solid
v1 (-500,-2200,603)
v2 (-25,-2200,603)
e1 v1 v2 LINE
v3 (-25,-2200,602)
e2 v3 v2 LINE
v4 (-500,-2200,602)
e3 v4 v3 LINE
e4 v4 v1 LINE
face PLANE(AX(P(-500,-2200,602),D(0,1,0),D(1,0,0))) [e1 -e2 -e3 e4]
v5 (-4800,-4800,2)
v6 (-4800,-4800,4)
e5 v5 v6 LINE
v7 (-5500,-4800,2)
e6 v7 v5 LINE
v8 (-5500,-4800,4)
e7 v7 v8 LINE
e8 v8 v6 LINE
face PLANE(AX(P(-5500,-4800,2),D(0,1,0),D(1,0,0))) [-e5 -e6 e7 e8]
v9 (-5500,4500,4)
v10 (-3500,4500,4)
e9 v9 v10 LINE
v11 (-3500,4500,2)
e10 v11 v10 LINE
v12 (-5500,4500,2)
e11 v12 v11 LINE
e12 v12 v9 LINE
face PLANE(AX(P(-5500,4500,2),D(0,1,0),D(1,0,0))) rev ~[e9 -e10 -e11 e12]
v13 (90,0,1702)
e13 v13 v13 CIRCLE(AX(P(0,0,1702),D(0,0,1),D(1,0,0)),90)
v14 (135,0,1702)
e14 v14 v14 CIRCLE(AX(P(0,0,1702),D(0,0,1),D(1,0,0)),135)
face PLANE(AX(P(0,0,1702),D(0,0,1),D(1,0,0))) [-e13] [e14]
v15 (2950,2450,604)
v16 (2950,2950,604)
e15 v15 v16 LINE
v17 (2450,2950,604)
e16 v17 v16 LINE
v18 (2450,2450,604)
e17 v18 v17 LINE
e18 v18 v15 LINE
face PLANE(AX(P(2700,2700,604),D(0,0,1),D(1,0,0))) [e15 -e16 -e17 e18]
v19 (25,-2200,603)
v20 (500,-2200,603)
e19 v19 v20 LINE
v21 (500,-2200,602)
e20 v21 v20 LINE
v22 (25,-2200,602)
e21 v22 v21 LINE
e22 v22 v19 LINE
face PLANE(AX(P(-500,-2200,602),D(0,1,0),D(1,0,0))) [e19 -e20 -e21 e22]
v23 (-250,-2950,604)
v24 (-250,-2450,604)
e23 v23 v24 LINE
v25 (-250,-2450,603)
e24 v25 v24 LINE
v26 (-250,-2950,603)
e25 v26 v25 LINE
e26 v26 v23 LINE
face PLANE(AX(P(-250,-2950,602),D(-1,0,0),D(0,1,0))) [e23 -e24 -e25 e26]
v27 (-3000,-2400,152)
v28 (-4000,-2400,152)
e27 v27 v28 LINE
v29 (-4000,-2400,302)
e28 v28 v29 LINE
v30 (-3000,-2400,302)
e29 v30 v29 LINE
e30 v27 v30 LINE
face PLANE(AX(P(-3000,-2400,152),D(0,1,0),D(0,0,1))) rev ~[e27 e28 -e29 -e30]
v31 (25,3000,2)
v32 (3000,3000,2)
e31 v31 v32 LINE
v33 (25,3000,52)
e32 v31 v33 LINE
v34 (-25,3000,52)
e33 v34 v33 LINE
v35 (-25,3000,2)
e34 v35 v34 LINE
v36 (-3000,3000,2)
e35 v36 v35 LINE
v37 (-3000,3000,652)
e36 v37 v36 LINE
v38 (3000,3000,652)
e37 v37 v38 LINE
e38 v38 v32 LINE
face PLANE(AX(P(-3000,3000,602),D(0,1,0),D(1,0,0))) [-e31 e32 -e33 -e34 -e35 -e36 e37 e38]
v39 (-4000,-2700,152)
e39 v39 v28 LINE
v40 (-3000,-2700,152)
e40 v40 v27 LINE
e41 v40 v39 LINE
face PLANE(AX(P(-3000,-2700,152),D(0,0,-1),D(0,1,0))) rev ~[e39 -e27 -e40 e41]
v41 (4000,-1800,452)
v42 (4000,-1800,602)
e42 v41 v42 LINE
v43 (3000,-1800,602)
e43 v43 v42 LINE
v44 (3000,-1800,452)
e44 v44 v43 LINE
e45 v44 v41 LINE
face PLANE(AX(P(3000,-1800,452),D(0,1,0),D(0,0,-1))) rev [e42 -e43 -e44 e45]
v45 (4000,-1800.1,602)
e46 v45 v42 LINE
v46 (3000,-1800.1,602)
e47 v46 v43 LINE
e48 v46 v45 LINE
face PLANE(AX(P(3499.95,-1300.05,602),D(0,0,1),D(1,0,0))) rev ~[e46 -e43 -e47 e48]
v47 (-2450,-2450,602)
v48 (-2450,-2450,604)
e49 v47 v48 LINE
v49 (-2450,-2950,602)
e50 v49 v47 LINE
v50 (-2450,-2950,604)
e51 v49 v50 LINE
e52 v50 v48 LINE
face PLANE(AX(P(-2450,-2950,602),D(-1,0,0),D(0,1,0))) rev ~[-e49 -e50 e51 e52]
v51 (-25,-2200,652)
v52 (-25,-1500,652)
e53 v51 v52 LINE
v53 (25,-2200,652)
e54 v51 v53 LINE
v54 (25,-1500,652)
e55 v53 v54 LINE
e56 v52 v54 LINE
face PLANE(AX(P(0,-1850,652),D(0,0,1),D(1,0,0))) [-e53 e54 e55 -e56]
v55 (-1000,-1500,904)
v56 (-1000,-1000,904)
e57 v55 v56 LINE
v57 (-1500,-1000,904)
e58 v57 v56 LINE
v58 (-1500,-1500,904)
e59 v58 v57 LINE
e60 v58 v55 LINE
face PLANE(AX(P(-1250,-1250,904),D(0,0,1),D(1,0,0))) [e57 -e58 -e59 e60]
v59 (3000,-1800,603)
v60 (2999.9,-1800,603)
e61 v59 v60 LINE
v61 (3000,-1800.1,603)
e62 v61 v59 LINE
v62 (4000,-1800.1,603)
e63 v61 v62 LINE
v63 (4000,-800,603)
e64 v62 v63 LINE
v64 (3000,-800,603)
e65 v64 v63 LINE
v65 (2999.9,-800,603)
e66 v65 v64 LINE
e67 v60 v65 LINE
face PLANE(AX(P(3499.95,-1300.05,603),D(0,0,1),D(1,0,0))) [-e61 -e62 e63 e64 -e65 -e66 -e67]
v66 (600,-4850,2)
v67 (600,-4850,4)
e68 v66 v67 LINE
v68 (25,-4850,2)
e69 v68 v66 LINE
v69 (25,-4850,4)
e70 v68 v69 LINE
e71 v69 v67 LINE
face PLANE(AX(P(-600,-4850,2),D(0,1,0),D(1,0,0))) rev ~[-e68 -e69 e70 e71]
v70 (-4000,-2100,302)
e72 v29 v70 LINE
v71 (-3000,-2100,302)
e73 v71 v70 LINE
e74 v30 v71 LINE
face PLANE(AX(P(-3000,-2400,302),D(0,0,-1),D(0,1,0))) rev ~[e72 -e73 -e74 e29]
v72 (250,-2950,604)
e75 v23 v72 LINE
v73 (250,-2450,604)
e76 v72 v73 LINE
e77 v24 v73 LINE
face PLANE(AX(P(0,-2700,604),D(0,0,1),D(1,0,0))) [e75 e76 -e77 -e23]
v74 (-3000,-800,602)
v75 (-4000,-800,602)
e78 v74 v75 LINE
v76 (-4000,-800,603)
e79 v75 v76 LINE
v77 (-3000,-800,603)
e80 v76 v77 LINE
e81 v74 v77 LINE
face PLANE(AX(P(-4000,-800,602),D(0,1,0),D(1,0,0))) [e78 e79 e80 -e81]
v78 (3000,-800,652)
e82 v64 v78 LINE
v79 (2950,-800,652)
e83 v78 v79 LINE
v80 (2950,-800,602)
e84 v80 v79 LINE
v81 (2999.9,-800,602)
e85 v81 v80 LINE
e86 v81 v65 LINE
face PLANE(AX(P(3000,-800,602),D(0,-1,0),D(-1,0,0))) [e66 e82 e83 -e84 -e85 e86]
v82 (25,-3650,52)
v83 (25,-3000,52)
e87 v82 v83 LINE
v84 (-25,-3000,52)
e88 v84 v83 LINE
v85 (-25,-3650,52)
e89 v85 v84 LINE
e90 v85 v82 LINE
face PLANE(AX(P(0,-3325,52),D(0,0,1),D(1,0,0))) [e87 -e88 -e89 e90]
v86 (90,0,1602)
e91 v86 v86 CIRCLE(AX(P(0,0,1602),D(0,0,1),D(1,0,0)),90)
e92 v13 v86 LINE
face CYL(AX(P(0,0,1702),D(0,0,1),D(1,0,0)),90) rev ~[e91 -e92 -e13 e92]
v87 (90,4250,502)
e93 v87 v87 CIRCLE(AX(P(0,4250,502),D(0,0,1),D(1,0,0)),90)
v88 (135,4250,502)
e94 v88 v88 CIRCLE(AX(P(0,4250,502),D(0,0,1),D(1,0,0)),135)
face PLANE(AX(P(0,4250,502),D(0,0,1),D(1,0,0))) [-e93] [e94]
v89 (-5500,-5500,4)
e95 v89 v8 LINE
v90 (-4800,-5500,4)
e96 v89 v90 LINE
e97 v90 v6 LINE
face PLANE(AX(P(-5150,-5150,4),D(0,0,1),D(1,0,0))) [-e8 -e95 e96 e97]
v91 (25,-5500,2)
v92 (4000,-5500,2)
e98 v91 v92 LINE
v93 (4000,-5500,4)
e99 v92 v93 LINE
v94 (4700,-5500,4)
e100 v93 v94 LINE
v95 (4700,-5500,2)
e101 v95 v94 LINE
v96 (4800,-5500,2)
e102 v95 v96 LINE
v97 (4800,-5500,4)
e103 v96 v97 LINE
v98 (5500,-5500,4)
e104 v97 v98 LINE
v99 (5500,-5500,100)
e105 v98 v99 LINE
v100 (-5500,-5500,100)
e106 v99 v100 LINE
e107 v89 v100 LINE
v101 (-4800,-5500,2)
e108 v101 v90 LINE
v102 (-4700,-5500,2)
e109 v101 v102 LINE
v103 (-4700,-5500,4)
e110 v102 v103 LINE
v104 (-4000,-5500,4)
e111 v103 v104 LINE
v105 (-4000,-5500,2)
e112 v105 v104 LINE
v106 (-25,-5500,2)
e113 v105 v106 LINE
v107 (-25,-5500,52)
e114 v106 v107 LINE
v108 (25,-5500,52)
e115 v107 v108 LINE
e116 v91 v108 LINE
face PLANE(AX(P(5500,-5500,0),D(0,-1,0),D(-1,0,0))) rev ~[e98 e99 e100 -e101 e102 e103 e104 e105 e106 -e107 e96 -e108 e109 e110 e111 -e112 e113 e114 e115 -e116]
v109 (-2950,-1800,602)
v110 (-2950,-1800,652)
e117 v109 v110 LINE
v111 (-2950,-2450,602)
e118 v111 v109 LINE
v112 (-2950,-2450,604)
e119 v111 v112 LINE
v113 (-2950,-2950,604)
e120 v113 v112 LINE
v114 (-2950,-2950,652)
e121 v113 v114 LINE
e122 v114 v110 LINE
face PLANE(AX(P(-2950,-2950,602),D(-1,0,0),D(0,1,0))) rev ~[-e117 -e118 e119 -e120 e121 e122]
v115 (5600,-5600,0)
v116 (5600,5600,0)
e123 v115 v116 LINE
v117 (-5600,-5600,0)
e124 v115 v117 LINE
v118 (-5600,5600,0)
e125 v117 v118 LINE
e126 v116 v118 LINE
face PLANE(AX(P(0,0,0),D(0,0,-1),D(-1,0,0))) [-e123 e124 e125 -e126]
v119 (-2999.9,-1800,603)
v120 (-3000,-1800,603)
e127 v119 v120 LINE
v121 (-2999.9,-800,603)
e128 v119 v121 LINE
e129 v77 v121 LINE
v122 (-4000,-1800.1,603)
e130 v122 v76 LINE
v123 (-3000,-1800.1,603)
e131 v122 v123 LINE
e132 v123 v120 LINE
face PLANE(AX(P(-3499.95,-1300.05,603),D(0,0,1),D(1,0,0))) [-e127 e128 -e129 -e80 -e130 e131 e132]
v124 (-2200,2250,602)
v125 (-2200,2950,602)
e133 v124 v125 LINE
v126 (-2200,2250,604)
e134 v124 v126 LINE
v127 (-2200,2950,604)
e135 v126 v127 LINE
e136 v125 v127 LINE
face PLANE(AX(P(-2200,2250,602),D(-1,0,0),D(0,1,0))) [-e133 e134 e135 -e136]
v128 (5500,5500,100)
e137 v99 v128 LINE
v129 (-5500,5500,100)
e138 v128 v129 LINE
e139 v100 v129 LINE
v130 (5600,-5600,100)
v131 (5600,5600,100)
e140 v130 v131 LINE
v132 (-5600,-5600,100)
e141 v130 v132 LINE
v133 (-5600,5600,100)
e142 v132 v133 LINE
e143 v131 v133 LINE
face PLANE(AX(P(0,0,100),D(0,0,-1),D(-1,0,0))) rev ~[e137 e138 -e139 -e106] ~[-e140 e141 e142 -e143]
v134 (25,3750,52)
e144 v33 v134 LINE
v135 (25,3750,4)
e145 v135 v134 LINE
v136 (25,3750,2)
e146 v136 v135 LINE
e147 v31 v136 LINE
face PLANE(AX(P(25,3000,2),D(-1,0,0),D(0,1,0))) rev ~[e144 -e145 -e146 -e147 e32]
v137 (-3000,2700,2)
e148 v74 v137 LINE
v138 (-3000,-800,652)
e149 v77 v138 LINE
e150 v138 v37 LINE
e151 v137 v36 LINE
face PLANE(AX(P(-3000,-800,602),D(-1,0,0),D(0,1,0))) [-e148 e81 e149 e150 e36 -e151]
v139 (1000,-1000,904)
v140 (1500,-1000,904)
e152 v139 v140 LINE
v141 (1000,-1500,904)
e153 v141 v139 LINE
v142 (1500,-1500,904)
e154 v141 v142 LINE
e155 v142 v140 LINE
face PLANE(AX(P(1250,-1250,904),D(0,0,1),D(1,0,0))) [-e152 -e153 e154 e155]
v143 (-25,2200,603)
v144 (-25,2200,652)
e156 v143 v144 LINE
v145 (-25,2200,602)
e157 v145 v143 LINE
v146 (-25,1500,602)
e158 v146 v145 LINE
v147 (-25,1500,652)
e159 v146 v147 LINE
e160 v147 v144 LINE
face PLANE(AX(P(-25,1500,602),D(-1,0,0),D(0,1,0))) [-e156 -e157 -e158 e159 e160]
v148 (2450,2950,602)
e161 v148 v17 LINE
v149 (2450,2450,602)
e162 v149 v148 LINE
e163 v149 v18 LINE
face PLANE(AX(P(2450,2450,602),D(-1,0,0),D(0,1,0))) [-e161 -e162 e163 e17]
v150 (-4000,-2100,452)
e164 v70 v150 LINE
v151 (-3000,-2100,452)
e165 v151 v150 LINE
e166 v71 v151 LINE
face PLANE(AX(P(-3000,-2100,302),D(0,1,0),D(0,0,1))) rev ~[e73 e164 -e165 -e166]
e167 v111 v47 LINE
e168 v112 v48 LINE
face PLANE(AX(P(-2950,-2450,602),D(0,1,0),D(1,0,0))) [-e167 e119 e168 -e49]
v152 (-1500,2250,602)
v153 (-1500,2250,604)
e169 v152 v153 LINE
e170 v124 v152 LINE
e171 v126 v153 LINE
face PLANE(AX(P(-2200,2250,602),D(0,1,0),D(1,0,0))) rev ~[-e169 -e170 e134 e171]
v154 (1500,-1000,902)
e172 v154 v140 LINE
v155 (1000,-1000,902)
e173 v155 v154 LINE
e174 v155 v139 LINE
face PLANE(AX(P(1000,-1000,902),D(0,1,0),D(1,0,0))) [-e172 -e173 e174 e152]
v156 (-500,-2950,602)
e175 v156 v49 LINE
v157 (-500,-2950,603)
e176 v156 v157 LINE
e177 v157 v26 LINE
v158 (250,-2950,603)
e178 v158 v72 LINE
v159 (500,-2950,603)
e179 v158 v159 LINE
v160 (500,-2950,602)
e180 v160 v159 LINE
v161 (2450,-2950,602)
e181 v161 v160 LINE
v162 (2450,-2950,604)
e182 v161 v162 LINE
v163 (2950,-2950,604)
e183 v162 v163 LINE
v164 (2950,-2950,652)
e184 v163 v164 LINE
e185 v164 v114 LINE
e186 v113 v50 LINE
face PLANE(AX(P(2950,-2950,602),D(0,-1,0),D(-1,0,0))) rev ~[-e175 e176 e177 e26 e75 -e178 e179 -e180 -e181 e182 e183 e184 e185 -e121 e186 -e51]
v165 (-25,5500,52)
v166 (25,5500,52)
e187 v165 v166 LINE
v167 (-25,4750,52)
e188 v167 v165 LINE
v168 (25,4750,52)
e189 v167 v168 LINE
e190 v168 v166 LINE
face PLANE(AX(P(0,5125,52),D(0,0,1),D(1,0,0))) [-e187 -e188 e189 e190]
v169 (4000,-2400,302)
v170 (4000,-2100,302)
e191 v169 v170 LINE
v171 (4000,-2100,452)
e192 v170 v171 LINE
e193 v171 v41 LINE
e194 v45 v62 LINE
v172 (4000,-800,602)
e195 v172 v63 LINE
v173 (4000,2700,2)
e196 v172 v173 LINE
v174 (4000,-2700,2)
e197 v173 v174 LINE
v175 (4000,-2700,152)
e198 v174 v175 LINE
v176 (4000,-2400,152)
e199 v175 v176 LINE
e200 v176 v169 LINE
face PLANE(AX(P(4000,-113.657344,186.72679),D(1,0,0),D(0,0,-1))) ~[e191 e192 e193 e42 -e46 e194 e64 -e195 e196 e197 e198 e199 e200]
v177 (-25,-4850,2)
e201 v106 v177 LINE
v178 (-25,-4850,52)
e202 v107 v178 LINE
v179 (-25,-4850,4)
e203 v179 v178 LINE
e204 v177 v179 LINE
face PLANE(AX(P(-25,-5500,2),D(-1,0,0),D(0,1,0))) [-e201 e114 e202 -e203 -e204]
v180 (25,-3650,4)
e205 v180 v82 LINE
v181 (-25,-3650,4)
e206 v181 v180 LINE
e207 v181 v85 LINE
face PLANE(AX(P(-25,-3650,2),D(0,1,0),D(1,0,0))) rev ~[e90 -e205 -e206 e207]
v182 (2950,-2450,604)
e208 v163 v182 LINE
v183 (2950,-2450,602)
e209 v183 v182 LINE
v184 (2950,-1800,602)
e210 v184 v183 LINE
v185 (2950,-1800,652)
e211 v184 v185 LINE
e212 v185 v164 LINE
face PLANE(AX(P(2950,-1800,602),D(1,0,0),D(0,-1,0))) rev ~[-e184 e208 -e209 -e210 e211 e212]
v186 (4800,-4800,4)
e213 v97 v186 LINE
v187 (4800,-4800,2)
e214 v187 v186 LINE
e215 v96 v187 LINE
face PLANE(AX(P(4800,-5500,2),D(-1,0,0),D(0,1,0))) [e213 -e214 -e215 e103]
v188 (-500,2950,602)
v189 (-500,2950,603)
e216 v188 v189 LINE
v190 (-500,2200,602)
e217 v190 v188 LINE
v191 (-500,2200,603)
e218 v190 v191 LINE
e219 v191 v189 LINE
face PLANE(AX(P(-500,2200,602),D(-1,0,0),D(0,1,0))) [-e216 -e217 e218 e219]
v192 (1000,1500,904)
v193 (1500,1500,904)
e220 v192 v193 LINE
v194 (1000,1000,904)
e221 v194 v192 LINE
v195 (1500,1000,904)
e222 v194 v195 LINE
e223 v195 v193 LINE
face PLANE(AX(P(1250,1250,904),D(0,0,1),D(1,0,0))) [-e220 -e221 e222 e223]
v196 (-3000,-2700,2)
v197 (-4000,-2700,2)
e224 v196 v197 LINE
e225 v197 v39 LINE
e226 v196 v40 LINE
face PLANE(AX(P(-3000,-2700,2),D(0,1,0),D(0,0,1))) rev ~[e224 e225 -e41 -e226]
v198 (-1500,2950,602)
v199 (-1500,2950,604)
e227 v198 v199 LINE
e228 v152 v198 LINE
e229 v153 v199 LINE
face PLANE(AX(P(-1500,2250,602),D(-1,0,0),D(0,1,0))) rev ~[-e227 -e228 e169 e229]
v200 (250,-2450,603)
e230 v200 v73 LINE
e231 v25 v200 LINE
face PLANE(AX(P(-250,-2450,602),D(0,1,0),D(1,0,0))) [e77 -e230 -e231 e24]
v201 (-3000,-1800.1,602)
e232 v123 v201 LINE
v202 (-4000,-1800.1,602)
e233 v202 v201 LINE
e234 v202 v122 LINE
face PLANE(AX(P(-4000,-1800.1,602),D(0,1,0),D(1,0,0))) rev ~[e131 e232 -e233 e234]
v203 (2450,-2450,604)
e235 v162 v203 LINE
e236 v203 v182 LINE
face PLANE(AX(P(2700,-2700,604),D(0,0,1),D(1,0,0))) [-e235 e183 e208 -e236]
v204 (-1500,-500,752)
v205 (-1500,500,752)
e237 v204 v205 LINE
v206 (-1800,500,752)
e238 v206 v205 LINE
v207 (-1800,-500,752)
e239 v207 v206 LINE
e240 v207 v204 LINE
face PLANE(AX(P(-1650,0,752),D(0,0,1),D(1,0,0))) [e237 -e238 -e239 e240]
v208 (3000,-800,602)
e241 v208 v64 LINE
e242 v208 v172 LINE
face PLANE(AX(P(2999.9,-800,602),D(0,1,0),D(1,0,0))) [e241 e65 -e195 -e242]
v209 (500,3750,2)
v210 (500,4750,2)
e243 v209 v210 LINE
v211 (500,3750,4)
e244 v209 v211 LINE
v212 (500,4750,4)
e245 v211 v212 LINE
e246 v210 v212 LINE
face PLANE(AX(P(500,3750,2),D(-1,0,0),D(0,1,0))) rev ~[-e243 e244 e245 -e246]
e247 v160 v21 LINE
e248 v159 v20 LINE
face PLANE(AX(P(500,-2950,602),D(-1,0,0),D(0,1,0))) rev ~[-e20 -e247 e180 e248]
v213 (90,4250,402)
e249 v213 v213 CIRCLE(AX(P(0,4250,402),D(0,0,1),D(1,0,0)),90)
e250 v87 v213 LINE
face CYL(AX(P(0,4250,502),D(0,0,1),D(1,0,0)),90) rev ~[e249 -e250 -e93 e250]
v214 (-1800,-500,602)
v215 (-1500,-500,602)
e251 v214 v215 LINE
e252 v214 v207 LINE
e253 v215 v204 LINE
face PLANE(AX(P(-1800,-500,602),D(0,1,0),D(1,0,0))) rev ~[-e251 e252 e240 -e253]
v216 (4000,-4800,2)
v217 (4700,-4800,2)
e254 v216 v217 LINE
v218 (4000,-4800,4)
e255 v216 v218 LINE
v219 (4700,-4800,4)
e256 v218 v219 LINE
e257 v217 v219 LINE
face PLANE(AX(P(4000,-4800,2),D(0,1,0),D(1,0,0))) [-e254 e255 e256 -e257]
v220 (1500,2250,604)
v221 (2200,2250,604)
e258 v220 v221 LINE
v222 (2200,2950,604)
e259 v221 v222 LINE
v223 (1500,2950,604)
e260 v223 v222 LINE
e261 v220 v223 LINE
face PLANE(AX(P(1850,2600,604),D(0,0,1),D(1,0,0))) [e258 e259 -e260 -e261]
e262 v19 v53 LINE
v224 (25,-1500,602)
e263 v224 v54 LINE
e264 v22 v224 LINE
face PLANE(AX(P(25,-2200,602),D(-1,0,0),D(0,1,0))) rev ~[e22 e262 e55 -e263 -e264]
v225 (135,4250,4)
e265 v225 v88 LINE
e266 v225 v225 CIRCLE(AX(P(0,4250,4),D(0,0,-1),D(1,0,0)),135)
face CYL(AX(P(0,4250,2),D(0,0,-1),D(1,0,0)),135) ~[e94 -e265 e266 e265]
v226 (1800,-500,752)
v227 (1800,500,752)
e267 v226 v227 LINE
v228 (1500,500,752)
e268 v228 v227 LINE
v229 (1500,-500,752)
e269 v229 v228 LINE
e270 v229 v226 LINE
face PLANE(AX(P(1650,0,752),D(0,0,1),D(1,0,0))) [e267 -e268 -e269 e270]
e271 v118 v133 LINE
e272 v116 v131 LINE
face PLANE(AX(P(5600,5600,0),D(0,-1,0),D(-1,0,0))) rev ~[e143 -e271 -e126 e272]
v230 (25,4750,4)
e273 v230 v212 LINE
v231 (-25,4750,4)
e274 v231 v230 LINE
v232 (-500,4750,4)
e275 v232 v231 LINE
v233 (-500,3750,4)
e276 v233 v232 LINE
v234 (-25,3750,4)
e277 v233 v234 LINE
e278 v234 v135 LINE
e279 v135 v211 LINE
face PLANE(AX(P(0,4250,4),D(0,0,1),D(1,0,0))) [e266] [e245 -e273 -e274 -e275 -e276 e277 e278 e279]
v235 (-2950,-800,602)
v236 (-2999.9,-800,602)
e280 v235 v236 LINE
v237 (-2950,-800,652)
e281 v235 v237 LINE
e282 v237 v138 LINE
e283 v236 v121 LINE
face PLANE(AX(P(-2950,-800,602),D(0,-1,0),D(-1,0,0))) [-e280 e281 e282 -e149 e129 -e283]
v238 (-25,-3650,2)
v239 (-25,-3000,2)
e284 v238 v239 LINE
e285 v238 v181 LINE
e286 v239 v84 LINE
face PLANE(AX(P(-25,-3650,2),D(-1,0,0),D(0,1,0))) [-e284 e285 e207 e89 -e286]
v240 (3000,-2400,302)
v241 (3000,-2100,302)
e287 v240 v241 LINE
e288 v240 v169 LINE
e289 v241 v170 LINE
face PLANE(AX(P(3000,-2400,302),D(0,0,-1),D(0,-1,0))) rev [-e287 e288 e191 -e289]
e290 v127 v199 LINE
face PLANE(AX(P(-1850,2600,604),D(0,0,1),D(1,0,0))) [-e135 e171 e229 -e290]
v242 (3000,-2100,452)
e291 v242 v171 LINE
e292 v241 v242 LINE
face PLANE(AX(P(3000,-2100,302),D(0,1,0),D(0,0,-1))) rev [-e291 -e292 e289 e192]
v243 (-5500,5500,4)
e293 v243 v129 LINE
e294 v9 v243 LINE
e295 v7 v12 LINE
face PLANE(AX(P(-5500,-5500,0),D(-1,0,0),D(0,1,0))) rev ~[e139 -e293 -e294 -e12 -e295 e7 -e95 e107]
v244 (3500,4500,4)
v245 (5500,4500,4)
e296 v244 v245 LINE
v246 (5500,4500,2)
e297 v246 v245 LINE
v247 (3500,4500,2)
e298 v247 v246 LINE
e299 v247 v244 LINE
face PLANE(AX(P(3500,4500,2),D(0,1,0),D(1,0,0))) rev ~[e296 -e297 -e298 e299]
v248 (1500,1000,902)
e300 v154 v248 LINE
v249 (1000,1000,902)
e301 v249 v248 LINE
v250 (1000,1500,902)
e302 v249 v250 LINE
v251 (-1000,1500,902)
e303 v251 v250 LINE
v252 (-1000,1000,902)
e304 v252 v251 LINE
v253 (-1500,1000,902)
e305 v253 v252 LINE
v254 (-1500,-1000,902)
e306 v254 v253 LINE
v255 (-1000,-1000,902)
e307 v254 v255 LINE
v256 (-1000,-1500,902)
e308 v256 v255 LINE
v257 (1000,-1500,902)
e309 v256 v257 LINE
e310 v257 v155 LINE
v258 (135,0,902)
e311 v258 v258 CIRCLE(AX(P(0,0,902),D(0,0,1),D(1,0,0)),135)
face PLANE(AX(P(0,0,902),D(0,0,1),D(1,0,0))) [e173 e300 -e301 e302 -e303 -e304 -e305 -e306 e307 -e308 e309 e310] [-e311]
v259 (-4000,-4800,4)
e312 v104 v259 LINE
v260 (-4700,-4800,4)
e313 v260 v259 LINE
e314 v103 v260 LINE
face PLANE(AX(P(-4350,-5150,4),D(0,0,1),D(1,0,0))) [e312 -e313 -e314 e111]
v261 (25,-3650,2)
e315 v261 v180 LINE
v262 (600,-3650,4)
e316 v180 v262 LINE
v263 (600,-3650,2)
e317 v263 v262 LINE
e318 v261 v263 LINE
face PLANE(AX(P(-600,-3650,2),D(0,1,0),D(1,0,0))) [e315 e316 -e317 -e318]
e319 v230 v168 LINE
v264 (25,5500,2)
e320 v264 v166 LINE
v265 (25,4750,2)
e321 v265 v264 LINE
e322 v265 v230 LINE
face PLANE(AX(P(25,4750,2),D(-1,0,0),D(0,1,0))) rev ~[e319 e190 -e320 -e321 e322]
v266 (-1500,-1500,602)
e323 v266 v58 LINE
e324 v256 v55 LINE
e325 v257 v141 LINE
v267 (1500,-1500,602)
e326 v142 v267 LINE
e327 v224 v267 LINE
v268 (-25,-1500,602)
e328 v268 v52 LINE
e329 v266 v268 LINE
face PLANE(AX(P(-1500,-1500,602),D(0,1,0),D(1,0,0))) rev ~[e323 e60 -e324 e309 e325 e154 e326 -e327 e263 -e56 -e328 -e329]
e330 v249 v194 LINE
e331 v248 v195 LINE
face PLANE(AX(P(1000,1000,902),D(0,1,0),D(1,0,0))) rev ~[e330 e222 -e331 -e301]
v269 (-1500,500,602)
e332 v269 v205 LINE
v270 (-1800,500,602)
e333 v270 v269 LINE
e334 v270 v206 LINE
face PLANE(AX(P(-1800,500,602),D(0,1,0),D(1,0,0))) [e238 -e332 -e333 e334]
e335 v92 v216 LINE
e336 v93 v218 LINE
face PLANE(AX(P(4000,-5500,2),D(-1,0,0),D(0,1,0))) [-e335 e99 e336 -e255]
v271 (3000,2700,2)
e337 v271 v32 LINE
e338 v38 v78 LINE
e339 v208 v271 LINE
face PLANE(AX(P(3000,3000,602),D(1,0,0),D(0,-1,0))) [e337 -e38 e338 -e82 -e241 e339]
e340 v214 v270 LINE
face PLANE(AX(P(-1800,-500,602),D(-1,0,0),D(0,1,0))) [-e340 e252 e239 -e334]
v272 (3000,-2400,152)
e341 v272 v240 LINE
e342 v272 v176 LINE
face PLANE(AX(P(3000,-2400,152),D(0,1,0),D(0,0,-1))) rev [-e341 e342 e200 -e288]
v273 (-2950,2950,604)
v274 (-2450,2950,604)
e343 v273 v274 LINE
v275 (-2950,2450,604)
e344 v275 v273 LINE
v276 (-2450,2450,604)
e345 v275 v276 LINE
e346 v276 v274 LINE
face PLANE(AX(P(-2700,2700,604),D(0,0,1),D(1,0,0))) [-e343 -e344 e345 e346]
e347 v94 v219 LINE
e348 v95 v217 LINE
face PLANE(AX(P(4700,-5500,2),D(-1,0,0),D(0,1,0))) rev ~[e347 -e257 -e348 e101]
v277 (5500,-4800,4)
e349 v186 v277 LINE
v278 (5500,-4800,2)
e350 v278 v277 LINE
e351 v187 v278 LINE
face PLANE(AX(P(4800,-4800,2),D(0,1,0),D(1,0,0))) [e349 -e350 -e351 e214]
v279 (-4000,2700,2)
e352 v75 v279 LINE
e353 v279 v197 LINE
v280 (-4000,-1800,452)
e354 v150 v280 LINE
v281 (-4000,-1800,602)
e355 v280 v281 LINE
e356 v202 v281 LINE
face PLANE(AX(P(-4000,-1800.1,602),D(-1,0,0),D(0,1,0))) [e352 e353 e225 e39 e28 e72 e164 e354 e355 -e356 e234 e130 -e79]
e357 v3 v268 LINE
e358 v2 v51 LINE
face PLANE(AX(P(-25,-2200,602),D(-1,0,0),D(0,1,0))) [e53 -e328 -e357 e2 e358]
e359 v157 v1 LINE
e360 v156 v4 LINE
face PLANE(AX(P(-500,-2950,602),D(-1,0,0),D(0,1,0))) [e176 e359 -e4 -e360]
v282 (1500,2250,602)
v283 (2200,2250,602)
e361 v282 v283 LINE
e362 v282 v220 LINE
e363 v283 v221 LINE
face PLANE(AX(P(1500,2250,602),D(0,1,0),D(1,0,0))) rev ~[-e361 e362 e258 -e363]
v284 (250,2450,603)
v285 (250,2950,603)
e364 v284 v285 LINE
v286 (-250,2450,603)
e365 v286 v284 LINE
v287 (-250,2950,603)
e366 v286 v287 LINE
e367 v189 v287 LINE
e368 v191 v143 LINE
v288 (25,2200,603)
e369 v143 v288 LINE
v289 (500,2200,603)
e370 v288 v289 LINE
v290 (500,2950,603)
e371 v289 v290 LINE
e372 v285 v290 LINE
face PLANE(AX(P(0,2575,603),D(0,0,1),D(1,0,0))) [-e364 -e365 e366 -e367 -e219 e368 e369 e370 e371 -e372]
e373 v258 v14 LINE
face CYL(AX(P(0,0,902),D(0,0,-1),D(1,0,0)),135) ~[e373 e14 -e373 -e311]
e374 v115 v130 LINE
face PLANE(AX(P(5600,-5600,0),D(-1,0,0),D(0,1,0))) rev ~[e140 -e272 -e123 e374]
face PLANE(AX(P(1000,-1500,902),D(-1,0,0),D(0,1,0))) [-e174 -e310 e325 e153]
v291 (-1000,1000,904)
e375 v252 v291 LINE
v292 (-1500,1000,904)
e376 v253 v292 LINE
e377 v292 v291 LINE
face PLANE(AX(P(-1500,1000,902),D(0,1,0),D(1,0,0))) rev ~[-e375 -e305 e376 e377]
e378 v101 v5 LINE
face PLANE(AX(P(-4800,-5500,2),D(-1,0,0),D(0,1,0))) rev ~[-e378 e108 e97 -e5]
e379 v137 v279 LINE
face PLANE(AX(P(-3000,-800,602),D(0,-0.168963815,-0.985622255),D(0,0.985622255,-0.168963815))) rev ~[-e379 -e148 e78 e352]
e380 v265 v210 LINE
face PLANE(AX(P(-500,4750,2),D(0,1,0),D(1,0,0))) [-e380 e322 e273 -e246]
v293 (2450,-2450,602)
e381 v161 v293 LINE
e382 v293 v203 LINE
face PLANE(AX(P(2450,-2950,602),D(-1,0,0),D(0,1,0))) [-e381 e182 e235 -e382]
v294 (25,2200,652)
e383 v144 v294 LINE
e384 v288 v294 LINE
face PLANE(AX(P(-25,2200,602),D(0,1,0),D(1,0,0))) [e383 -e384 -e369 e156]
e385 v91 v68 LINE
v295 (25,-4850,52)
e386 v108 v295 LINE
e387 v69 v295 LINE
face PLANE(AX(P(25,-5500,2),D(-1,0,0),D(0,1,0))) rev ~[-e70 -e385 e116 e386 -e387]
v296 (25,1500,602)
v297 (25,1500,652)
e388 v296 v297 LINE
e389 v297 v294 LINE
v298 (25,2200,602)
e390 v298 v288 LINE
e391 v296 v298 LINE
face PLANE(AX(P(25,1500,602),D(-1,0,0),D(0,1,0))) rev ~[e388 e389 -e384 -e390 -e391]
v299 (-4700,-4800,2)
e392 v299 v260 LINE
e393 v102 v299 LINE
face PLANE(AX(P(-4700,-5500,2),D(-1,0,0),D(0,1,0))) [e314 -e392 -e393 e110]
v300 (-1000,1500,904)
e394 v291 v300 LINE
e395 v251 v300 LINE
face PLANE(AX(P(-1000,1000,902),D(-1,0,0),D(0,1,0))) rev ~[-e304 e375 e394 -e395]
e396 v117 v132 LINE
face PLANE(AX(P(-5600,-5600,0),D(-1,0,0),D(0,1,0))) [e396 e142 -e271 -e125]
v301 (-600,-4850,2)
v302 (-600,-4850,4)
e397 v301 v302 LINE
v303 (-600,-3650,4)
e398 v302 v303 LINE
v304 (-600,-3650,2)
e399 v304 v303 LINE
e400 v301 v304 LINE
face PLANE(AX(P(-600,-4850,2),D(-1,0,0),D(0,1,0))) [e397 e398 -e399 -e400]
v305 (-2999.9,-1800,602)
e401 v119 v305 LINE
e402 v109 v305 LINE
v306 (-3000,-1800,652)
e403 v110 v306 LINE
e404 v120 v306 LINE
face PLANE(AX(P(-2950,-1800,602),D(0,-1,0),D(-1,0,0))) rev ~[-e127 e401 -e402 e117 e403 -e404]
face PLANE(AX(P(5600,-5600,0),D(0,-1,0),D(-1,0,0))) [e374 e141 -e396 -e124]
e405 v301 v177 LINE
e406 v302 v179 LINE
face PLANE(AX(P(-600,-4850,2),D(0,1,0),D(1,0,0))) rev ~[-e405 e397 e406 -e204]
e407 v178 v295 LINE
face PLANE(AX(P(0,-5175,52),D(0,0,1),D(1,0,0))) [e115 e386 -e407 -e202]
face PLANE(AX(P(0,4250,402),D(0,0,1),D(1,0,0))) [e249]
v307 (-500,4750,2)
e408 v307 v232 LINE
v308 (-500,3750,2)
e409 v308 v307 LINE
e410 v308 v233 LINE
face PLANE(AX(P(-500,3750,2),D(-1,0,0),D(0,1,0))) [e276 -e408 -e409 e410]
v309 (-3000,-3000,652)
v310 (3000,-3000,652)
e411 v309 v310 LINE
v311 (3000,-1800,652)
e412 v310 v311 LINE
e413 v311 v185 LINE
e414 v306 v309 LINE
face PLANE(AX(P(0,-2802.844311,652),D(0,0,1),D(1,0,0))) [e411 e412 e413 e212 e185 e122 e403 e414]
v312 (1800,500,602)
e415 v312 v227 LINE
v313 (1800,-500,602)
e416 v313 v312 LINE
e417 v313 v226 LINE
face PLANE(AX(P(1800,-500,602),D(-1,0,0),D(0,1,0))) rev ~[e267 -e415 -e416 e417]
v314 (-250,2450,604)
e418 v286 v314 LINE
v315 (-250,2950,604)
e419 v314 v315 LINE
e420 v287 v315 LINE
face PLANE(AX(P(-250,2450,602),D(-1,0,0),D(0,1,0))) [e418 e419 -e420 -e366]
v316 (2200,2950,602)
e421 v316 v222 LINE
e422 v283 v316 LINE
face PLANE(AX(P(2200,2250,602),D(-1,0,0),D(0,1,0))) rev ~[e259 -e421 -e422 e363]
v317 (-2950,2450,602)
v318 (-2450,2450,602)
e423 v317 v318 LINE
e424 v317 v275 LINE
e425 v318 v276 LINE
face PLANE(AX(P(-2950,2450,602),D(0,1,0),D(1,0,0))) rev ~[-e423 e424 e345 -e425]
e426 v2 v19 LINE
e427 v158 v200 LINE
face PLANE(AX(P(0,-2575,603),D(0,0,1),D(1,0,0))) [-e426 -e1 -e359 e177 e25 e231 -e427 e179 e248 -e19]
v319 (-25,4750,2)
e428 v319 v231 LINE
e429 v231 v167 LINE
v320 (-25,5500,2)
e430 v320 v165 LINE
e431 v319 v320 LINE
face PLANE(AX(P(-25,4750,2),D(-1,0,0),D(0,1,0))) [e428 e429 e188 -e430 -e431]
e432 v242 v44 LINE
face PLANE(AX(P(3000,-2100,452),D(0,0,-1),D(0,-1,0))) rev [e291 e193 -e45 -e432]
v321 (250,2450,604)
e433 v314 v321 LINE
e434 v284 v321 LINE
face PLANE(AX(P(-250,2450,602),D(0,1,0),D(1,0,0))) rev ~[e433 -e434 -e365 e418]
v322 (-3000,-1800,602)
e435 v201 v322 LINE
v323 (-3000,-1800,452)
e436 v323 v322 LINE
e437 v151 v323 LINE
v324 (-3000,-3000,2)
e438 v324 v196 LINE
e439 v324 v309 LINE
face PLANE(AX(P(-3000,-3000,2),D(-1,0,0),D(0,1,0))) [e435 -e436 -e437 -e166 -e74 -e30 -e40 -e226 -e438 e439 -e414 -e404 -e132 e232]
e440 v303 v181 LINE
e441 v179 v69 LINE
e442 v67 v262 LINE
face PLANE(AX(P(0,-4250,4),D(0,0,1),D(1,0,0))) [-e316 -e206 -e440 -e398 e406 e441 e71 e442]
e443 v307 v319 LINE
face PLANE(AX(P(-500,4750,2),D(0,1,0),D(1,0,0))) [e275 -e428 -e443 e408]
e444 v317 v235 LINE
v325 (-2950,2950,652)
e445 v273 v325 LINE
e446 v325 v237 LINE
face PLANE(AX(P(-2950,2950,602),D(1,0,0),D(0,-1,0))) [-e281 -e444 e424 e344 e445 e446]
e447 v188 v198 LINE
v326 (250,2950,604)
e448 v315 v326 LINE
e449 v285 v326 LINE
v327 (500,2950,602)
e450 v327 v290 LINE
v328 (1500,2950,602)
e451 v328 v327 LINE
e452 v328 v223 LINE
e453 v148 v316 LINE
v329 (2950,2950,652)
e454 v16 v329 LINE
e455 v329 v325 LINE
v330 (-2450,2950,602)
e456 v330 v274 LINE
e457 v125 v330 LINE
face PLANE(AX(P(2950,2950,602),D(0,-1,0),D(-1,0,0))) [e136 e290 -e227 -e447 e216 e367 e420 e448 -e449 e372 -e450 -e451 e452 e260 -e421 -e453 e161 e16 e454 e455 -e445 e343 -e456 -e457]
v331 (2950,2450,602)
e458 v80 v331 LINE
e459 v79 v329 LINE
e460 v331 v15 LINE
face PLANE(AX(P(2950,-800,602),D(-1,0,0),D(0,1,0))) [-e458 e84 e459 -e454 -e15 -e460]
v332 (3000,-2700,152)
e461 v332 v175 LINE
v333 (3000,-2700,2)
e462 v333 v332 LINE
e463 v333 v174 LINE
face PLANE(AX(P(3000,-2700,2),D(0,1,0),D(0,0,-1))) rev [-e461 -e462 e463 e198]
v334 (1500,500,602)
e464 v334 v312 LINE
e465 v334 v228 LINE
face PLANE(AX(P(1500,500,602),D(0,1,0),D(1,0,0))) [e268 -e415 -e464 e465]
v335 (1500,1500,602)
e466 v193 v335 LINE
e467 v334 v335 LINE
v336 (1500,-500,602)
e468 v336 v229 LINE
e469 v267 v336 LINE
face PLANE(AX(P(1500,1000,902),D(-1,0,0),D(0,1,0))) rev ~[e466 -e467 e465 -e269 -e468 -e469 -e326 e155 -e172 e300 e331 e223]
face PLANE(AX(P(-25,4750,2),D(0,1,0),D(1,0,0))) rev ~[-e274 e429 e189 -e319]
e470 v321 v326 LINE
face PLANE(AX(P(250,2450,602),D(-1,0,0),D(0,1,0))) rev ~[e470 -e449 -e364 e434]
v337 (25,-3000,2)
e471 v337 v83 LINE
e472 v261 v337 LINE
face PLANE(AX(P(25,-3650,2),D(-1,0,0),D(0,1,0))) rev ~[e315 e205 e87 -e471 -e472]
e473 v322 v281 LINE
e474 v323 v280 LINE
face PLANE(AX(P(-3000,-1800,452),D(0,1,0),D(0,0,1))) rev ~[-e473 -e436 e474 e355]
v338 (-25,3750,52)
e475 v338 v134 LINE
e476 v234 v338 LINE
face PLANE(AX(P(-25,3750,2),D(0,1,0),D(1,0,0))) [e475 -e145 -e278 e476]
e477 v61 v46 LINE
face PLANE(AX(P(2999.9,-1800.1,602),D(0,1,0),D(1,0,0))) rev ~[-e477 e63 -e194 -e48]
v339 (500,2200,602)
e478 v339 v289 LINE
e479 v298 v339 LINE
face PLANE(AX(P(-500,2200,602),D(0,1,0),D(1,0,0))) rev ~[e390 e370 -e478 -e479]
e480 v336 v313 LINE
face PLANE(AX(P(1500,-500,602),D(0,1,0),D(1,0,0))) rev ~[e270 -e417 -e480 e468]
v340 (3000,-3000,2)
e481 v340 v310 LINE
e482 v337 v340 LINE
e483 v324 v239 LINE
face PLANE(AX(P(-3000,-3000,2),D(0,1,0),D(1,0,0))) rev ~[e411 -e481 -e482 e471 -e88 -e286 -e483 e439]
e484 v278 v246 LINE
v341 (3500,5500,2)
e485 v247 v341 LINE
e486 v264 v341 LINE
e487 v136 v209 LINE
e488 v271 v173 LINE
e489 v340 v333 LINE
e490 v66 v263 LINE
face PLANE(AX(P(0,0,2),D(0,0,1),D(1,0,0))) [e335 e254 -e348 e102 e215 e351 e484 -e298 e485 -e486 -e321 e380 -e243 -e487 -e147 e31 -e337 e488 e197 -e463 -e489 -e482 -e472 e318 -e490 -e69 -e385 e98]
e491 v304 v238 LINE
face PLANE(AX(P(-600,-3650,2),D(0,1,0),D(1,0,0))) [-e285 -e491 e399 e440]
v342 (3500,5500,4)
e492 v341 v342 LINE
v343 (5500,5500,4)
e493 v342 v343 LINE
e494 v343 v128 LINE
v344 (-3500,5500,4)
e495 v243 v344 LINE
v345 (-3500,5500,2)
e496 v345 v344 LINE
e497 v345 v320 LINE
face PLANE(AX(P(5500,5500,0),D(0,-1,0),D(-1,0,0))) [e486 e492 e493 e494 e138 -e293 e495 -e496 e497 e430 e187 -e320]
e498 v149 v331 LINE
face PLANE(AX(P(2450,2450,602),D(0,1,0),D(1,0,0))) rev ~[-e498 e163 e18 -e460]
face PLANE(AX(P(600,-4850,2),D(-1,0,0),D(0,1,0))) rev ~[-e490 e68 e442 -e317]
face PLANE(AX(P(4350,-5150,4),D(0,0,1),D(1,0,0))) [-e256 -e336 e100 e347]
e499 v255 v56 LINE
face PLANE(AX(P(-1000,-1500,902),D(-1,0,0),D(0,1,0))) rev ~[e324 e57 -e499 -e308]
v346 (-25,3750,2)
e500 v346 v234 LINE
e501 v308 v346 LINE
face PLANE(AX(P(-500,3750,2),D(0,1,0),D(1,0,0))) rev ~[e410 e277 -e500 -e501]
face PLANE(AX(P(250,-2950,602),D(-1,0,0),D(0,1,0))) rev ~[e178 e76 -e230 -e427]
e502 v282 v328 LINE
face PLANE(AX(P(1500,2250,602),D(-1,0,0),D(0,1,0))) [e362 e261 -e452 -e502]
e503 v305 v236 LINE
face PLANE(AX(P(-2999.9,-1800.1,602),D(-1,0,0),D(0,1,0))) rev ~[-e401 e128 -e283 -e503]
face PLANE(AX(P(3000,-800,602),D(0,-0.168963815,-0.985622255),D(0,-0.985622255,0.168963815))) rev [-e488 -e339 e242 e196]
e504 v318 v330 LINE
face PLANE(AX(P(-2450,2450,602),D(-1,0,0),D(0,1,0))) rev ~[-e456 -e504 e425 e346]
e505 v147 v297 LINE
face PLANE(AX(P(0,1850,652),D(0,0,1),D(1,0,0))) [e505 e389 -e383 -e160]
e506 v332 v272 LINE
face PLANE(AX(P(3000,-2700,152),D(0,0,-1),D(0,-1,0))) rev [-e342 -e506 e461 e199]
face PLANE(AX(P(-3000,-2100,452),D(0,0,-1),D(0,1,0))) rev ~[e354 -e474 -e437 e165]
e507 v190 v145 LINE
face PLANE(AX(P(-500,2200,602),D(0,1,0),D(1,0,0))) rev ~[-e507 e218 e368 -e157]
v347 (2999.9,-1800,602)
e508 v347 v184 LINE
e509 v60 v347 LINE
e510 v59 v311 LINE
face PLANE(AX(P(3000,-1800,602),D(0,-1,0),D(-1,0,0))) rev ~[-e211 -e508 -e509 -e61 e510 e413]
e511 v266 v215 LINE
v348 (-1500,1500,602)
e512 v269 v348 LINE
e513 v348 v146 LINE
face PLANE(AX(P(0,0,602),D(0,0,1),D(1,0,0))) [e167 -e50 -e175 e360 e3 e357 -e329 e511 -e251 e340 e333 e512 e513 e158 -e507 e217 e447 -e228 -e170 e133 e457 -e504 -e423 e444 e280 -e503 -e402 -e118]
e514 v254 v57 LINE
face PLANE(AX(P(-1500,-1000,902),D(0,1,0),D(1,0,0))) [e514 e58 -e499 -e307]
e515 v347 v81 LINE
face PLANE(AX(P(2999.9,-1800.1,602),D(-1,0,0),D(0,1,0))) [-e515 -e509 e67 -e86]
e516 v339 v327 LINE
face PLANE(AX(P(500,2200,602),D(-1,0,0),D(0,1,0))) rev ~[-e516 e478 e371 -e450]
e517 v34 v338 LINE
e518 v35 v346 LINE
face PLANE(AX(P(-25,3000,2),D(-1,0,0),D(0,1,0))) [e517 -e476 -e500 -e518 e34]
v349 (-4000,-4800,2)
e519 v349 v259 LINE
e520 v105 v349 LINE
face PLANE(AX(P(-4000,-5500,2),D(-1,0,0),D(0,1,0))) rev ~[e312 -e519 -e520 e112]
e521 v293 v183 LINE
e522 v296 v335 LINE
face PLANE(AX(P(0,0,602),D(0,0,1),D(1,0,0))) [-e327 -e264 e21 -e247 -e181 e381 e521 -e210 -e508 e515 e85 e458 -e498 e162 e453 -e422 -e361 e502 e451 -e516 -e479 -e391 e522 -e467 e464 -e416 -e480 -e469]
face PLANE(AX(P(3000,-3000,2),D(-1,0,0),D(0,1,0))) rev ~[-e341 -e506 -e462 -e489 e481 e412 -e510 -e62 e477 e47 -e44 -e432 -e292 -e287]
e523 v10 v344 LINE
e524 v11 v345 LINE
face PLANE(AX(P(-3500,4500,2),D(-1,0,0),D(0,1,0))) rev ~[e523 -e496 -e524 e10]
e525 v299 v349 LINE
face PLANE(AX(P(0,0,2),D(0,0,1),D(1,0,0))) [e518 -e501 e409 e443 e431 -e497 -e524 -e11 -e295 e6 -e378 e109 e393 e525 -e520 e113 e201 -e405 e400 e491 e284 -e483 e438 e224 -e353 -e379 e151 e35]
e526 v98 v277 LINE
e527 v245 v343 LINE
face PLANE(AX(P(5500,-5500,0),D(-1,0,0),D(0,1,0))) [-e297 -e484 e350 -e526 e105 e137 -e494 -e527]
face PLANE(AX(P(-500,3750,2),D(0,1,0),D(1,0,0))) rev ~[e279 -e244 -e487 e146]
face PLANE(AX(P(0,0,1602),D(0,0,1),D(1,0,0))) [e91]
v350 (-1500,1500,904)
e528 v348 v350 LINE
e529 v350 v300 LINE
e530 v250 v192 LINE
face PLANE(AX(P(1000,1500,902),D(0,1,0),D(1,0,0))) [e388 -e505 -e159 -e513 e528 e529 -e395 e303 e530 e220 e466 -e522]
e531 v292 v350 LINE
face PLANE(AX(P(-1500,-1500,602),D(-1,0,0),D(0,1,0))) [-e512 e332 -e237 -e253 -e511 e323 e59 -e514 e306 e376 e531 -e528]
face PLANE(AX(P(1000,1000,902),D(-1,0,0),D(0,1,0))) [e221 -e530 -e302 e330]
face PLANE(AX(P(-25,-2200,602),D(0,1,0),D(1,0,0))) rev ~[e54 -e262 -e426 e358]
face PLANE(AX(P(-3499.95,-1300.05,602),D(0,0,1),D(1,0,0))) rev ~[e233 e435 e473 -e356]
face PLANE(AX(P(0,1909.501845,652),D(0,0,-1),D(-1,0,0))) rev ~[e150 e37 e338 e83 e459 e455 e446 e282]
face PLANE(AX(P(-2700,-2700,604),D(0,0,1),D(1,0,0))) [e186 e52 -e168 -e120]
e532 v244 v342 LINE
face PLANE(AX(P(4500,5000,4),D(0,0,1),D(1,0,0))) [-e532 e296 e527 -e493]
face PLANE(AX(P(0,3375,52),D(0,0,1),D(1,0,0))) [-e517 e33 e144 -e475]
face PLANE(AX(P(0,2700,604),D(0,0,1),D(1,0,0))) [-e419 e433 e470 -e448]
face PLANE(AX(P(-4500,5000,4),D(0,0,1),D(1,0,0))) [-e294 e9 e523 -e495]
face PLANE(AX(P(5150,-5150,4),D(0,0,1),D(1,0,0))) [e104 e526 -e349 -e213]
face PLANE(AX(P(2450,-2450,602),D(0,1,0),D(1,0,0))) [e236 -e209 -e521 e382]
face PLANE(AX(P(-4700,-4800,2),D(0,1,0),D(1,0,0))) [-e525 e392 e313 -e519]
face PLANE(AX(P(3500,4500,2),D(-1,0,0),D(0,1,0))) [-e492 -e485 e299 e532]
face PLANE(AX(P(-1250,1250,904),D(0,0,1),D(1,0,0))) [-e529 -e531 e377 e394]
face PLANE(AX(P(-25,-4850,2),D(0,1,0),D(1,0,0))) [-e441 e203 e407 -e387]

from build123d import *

# Parameters (mm, degrees)
SKETCH_1_W          = 11000
SKETCH_1_H          = 11000
EXTRUDE_1_DEPTH     = 2
SKETCH_2_W          = 700
SKETCH_2_H          = 700
SKETCH_2_W_2        = 2000
SKETCH_2_H_2        = 1000
SKETCH_2_W_3        = 1200
SKETCH_2_H_3        = 1200
SKETCH_2_W_4        = 1000
EXTRUDE_2_DEPTH     = 2
SKETCH_3_W          = 6000
SKETCH_3_H          = 6000
EXTRUDE_3_DEPTH     = 600
EXTRUDE_4_DEPTH     = 1000
SKETCH_5_W          = 3000
SKETCH_5_H          = 3000
EXTRUDE_5_DEPTH     = 300
SKETCH_6_R          = 135
EXTRUDE_6_DEPTH     = 800
SKETCH_7_R          = 90
CUT_EXTRUDE_1_DEPTH = 100
SKETCH_8_W          = 300
SKETCH_8_H          = 1000
EXTRUDE_7_DEPTH     = 150
SKETCH_9_W          = 500
SKETCH_9_H          = 500
EXTRUDE_8_DEPTH     = 2
SKETCH_10_W         = 11200
SKETCH_10_H         = 11200
SKETCH_10_W_2       = 11000
SKETCH_10_H_2       = 11000
EXTRUDE_9_DEPTH     = 100
SKETCH_12_R         = 135
EXTRUDE_10_DEPTH    = 500
SKETCH_13_R         = 90
CUT_EXTRUDE_2_DEPTH = 100
SKETCH_14_W         = 50
SKETCH_14_H         = 650
SKETCH_14_H_2       = 750
EXTRUDE_11_DEPTH    = 50
SKETCH_15_W         = 50
SKETCH_15_H         = 700
EXTRUDE_12_DEPTH    = 50
SKETCH_16_W         = 500
SKETCH_16_H         = 500
SKETCH_16_W_2       = 700
SKETCH_16_H_2       = 700
EXTRUDE_13_DEPTH    = 2
SKETCH_17_W         = 1000
SKETCH_17_H         = 750
EXTRUDE_14_DEPTH    = 1
SKETCH_18_W         = 1000.1
SKETCH_18_H         = 1000.1
EXTRUDE_21_DEPTH    = 1


with BuildPart() as part:
    # ｽｹｯﾁ1 → ﾎﾞｽ - 押し出し1 (new body)
    with BuildSketch(Plane.XY):
        Rectangle(SKETCH_1_W, SKETCH_1_H)
    extrude(amount=EXTRUDE_1_DEPTH)

    # ｽｹｯﾁ2 → ﾎﾞｽ - 押し出し2 (add)
    with BuildSketch(Plane.XY.offset(2)):
        with Locations((-5150, -5150)):
            Rectangle(SKETCH_2_W, SKETCH_2_H)
        with Locations((-4350, -5150)):
            Rectangle(SKETCH_2_W, SKETCH_2_H)
        with Locations((-4500, 5000)):
            Rectangle(SKETCH_2_W_2, SKETCH_2_H_2)
        with Locations((0, -4250)):
            Rectangle(SKETCH_2_W_3, SKETCH_2_H_3)
        with Locations((0, 4250)):
            Rectangle(SKETCH_2_W_4, SKETCH_2_H_2)
        with Locations((4350, -5150)):
            Rectangle(SKETCH_2_W, SKETCH_2_H)
        with Locations((5150, -5150)):
            Rectangle(SKETCH_2_W, SKETCH_2_H)
        with Locations((4500, 5000)):
            Rectangle(SKETCH_2_W_2, SKETCH_2_H_2)
    extrude(amount=EXTRUDE_2_DEPTH)

    # ｽｹｯﾁ3 → ﾎﾞｽ - 押し出し3 (add)
    with BuildSketch(Plane.XY.offset(2)):
        Rectangle(SKETCH_3_W, SKETCH_3_H)
    extrude(amount=EXTRUDE_3_DEPTH)

    # ｽｹｯﾁ4 → ﾎﾞｽ - 押し出し4 (add)
    with BuildSketch(Plane.ZY.offset(3000)):
        Polygon((2, 2700), (2, -2700), (152, -2700), (152, -2400), (302, -2400), (302, -2100), (452, -2100), (452, -1800), (602, -1800), (602, -800), align=None)
    extrude_4 = extrude(amount=EXTRUDE_4_DEPTH)

    # ﾐﾗｰ1: ﾎﾞｽ - 押し出し4 across plane
    add(extrude_4.mirror(Plane(origin=(0, 0, 0), x_dir=(0, 0, 1), z_dir=(1, 0, 0))))

    # ｽｹｯﾁ5 → ﾎﾞｽ - 押し出し5 (add)
    with BuildSketch(Plane.XY.offset(602)):
        Rectangle(SKETCH_5_W, SKETCH_5_H)
    extrude(amount=EXTRUDE_5_DEPTH)

    # ｽｹｯﾁ6 → ﾎﾞｽ - 押し出し6 (add)
    with BuildSketch(Plane.XY.offset(902)):
        Circle(SKETCH_6_R)
    extrude(amount=EXTRUDE_6_DEPTH)

    # ｽｹｯﾁ7 → ｶｯﾄ - 押し出し1 (cut)
    with BuildSketch(Plane.XY.offset(1702)):
        Circle(SKETCH_7_R)
    extrude(amount=-CUT_EXTRUDE_1_DEPTH, mode=Mode.SUBTRACT)

    # ｽｹｯﾁ8 → ﾎﾞｽ - 押し出し7 (add)
    with BuildSketch(Plane.XY.offset(602)):
        with Locations((1650, 0)):
            Rectangle(SKETCH_8_W, SKETCH_8_H)
        with Locations((-1650, 0)):
            Rectangle(SKETCH_8_W, SKETCH_8_H)
    extrude(amount=EXTRUDE_7_DEPTH)

    # ｽｹｯﾁ9 → ﾎﾞｽ - 押し出し8 (add)
    with BuildSketch(Plane.XY.offset(902)):
        with Locations((1250, 1250)):
            Rectangle(SKETCH_9_W, SKETCH_9_H)
        with Locations((-1250, 1250)):
            Rectangle(SKETCH_9_W, SKETCH_9_H)
        with Locations((1250, -1250)):
            Rectangle(SKETCH_9_W, SKETCH_9_H)
        with Locations((-1250, -1250)):
            Rectangle(SKETCH_9_W, SKETCH_9_H)
    extrude(amount=EXTRUDE_8_DEPTH)



with BuildPart() as body_2:
    # ｽｹｯﾁ10 → ﾎﾞｽ - 押し出し9 (new body)
    with BuildSketch(Plane(origin=(0, 0, 0), x_dir=(-1, 0, 0), z_dir=(0, 0, -1))):
        Rectangle(SKETCH_10_W, SKETCH_10_H)
        Rectangle(SKETCH_10_W_2, SKETCH_10_H_2, mode=Mode.SUBTRACT)
    extrude(amount=-EXTRUDE_9_DEPTH)


with BuildPart() as part_1:
    add(part.part)

    add(body_2.part)  # ﾎﾞｽ - 押し出し10 merges body 2
    # ｽｹｯﾁ12 → ﾎﾞｽ - 押し出し10 (add)
    with BuildSketch(Plane.XY.offset(2)):
        with Locations((0, 4250)):
            Circle(SKETCH_12_R)
    extrude(amount=EXTRUDE_10_DEPTH)

    # ｽｹｯﾁ13 → ｶｯﾄ - 押し出し2 (cut)
    with BuildSketch(Plane.XY.offset(502)):
        with Locations((0, 4250)):
            Circle(SKETCH_13_R)
    extrude(amount=-CUT_EXTRUDE_2_DEPTH, mode=Mode.SUBTRACT)

    # ｽｹｯﾁ14 → ﾎﾞｽ - 押し出し11 (add)
    with BuildSketch(Plane.XY.offset(2)):
        with Locations((0, -3325)):
            Rectangle(SKETCH_14_W, SKETCH_14_H)
        with Locations((0, -5175)):
            Rectangle(SKETCH_14_W, SKETCH_14_H)
        with Locations((0, 3375)):
            Rectangle(SKETCH_14_W, SKETCH_14_H_2)
        with Locations((0, 5125)):
            Rectangle(SKETCH_14_W, SKETCH_14_H_2)
    extrude(amount=EXTRUDE_11_DEPTH)

    # ｽｹｯﾁ15 → ﾎﾞｽ - 押し出し12 (add)
    with BuildSketch(Plane.XY.offset(602)):
        Polygon((-3000, -800), (-3000, 3000), (3000, 3000), (3000, -800), (2950, -800), (2950, 2950), (-2950, 2950), (-2950, -800), align=None)
        Polygon((-3000, -1800), (-3000, -3000), (3000, -3000), (3000, -1800), (2950, -1800), (2950, -2950), (-2950, -2950), (-2950, -1800), align=None)
        with Locations((0, 1850)):
            Rectangle(SKETCH_15_W, SKETCH_15_H)
        with Locations((0, -1850)):
            Rectangle(SKETCH_15_W, SKETCH_15_H)
    extrude(amount=EXTRUDE_12_DEPTH)

    # ｽｹｯﾁ16 → ﾎﾞｽ - 押し出し13 (add)
    with BuildSketch(Plane.XY.offset(602)):
        with Locations((2700, -2700)):
            Rectangle(SKETCH_16_W, SKETCH_16_H)
        with Locations((-2700, -2700)):
            Rectangle(SKETCH_16_W, SKETCH_16_H)
        with Locations((2700, 2700)):
            Rectangle(SKETCH_16_W, SKETCH_16_H)
        with Locations((-2700, 2700)):
            Rectangle(SKETCH_16_W, SKETCH_16_H)
        with Locations((0, -2700)):
            Rectangle(SKETCH_16_W, SKETCH_16_H)
        with Locations((0, 2700)):
            Rectangle(SKETCH_16_W, SKETCH_16_H)
        with Locations((1850, 2600)):
            Rectangle(SKETCH_16_W_2, SKETCH_16_H_2)
        with Locations((-1850, 2600)):
            Rectangle(SKETCH_16_W_2, SKETCH_16_H_2)
    extrude(amount=EXTRUDE_13_DEPTH)

    # ｽｹｯﾁ17 → ﾎﾞｽ - 押し出し14 (add)
    with BuildSketch(Plane.XY.offset(602)):
        with Locations((0, 2575)):
            Rectangle(SKETCH_17_W, SKETCH_17_H)
        with Locations((0, -2575)):
            Rectangle(SKETCH_17_W, SKETCH_17_H)
    extrude(amount=EXTRUDE_14_DEPTH)

    # ｽｹｯﾁ18 → ﾎﾞｽ - 押し出し21 (add)
    with BuildSketch(Plane.XY.offset(602)):
        with Locations((-3499.95, -1300.05)):
            Rectangle(SKETCH_18_W, SKETCH_18_H)
        with Locations((3499.95, -1300.05)):
            Rectangle(SKETCH_18_W, SKETCH_18_H)
    extrude(amount=EXTRUDE_21_DEPTH)


solid = part_1.part
